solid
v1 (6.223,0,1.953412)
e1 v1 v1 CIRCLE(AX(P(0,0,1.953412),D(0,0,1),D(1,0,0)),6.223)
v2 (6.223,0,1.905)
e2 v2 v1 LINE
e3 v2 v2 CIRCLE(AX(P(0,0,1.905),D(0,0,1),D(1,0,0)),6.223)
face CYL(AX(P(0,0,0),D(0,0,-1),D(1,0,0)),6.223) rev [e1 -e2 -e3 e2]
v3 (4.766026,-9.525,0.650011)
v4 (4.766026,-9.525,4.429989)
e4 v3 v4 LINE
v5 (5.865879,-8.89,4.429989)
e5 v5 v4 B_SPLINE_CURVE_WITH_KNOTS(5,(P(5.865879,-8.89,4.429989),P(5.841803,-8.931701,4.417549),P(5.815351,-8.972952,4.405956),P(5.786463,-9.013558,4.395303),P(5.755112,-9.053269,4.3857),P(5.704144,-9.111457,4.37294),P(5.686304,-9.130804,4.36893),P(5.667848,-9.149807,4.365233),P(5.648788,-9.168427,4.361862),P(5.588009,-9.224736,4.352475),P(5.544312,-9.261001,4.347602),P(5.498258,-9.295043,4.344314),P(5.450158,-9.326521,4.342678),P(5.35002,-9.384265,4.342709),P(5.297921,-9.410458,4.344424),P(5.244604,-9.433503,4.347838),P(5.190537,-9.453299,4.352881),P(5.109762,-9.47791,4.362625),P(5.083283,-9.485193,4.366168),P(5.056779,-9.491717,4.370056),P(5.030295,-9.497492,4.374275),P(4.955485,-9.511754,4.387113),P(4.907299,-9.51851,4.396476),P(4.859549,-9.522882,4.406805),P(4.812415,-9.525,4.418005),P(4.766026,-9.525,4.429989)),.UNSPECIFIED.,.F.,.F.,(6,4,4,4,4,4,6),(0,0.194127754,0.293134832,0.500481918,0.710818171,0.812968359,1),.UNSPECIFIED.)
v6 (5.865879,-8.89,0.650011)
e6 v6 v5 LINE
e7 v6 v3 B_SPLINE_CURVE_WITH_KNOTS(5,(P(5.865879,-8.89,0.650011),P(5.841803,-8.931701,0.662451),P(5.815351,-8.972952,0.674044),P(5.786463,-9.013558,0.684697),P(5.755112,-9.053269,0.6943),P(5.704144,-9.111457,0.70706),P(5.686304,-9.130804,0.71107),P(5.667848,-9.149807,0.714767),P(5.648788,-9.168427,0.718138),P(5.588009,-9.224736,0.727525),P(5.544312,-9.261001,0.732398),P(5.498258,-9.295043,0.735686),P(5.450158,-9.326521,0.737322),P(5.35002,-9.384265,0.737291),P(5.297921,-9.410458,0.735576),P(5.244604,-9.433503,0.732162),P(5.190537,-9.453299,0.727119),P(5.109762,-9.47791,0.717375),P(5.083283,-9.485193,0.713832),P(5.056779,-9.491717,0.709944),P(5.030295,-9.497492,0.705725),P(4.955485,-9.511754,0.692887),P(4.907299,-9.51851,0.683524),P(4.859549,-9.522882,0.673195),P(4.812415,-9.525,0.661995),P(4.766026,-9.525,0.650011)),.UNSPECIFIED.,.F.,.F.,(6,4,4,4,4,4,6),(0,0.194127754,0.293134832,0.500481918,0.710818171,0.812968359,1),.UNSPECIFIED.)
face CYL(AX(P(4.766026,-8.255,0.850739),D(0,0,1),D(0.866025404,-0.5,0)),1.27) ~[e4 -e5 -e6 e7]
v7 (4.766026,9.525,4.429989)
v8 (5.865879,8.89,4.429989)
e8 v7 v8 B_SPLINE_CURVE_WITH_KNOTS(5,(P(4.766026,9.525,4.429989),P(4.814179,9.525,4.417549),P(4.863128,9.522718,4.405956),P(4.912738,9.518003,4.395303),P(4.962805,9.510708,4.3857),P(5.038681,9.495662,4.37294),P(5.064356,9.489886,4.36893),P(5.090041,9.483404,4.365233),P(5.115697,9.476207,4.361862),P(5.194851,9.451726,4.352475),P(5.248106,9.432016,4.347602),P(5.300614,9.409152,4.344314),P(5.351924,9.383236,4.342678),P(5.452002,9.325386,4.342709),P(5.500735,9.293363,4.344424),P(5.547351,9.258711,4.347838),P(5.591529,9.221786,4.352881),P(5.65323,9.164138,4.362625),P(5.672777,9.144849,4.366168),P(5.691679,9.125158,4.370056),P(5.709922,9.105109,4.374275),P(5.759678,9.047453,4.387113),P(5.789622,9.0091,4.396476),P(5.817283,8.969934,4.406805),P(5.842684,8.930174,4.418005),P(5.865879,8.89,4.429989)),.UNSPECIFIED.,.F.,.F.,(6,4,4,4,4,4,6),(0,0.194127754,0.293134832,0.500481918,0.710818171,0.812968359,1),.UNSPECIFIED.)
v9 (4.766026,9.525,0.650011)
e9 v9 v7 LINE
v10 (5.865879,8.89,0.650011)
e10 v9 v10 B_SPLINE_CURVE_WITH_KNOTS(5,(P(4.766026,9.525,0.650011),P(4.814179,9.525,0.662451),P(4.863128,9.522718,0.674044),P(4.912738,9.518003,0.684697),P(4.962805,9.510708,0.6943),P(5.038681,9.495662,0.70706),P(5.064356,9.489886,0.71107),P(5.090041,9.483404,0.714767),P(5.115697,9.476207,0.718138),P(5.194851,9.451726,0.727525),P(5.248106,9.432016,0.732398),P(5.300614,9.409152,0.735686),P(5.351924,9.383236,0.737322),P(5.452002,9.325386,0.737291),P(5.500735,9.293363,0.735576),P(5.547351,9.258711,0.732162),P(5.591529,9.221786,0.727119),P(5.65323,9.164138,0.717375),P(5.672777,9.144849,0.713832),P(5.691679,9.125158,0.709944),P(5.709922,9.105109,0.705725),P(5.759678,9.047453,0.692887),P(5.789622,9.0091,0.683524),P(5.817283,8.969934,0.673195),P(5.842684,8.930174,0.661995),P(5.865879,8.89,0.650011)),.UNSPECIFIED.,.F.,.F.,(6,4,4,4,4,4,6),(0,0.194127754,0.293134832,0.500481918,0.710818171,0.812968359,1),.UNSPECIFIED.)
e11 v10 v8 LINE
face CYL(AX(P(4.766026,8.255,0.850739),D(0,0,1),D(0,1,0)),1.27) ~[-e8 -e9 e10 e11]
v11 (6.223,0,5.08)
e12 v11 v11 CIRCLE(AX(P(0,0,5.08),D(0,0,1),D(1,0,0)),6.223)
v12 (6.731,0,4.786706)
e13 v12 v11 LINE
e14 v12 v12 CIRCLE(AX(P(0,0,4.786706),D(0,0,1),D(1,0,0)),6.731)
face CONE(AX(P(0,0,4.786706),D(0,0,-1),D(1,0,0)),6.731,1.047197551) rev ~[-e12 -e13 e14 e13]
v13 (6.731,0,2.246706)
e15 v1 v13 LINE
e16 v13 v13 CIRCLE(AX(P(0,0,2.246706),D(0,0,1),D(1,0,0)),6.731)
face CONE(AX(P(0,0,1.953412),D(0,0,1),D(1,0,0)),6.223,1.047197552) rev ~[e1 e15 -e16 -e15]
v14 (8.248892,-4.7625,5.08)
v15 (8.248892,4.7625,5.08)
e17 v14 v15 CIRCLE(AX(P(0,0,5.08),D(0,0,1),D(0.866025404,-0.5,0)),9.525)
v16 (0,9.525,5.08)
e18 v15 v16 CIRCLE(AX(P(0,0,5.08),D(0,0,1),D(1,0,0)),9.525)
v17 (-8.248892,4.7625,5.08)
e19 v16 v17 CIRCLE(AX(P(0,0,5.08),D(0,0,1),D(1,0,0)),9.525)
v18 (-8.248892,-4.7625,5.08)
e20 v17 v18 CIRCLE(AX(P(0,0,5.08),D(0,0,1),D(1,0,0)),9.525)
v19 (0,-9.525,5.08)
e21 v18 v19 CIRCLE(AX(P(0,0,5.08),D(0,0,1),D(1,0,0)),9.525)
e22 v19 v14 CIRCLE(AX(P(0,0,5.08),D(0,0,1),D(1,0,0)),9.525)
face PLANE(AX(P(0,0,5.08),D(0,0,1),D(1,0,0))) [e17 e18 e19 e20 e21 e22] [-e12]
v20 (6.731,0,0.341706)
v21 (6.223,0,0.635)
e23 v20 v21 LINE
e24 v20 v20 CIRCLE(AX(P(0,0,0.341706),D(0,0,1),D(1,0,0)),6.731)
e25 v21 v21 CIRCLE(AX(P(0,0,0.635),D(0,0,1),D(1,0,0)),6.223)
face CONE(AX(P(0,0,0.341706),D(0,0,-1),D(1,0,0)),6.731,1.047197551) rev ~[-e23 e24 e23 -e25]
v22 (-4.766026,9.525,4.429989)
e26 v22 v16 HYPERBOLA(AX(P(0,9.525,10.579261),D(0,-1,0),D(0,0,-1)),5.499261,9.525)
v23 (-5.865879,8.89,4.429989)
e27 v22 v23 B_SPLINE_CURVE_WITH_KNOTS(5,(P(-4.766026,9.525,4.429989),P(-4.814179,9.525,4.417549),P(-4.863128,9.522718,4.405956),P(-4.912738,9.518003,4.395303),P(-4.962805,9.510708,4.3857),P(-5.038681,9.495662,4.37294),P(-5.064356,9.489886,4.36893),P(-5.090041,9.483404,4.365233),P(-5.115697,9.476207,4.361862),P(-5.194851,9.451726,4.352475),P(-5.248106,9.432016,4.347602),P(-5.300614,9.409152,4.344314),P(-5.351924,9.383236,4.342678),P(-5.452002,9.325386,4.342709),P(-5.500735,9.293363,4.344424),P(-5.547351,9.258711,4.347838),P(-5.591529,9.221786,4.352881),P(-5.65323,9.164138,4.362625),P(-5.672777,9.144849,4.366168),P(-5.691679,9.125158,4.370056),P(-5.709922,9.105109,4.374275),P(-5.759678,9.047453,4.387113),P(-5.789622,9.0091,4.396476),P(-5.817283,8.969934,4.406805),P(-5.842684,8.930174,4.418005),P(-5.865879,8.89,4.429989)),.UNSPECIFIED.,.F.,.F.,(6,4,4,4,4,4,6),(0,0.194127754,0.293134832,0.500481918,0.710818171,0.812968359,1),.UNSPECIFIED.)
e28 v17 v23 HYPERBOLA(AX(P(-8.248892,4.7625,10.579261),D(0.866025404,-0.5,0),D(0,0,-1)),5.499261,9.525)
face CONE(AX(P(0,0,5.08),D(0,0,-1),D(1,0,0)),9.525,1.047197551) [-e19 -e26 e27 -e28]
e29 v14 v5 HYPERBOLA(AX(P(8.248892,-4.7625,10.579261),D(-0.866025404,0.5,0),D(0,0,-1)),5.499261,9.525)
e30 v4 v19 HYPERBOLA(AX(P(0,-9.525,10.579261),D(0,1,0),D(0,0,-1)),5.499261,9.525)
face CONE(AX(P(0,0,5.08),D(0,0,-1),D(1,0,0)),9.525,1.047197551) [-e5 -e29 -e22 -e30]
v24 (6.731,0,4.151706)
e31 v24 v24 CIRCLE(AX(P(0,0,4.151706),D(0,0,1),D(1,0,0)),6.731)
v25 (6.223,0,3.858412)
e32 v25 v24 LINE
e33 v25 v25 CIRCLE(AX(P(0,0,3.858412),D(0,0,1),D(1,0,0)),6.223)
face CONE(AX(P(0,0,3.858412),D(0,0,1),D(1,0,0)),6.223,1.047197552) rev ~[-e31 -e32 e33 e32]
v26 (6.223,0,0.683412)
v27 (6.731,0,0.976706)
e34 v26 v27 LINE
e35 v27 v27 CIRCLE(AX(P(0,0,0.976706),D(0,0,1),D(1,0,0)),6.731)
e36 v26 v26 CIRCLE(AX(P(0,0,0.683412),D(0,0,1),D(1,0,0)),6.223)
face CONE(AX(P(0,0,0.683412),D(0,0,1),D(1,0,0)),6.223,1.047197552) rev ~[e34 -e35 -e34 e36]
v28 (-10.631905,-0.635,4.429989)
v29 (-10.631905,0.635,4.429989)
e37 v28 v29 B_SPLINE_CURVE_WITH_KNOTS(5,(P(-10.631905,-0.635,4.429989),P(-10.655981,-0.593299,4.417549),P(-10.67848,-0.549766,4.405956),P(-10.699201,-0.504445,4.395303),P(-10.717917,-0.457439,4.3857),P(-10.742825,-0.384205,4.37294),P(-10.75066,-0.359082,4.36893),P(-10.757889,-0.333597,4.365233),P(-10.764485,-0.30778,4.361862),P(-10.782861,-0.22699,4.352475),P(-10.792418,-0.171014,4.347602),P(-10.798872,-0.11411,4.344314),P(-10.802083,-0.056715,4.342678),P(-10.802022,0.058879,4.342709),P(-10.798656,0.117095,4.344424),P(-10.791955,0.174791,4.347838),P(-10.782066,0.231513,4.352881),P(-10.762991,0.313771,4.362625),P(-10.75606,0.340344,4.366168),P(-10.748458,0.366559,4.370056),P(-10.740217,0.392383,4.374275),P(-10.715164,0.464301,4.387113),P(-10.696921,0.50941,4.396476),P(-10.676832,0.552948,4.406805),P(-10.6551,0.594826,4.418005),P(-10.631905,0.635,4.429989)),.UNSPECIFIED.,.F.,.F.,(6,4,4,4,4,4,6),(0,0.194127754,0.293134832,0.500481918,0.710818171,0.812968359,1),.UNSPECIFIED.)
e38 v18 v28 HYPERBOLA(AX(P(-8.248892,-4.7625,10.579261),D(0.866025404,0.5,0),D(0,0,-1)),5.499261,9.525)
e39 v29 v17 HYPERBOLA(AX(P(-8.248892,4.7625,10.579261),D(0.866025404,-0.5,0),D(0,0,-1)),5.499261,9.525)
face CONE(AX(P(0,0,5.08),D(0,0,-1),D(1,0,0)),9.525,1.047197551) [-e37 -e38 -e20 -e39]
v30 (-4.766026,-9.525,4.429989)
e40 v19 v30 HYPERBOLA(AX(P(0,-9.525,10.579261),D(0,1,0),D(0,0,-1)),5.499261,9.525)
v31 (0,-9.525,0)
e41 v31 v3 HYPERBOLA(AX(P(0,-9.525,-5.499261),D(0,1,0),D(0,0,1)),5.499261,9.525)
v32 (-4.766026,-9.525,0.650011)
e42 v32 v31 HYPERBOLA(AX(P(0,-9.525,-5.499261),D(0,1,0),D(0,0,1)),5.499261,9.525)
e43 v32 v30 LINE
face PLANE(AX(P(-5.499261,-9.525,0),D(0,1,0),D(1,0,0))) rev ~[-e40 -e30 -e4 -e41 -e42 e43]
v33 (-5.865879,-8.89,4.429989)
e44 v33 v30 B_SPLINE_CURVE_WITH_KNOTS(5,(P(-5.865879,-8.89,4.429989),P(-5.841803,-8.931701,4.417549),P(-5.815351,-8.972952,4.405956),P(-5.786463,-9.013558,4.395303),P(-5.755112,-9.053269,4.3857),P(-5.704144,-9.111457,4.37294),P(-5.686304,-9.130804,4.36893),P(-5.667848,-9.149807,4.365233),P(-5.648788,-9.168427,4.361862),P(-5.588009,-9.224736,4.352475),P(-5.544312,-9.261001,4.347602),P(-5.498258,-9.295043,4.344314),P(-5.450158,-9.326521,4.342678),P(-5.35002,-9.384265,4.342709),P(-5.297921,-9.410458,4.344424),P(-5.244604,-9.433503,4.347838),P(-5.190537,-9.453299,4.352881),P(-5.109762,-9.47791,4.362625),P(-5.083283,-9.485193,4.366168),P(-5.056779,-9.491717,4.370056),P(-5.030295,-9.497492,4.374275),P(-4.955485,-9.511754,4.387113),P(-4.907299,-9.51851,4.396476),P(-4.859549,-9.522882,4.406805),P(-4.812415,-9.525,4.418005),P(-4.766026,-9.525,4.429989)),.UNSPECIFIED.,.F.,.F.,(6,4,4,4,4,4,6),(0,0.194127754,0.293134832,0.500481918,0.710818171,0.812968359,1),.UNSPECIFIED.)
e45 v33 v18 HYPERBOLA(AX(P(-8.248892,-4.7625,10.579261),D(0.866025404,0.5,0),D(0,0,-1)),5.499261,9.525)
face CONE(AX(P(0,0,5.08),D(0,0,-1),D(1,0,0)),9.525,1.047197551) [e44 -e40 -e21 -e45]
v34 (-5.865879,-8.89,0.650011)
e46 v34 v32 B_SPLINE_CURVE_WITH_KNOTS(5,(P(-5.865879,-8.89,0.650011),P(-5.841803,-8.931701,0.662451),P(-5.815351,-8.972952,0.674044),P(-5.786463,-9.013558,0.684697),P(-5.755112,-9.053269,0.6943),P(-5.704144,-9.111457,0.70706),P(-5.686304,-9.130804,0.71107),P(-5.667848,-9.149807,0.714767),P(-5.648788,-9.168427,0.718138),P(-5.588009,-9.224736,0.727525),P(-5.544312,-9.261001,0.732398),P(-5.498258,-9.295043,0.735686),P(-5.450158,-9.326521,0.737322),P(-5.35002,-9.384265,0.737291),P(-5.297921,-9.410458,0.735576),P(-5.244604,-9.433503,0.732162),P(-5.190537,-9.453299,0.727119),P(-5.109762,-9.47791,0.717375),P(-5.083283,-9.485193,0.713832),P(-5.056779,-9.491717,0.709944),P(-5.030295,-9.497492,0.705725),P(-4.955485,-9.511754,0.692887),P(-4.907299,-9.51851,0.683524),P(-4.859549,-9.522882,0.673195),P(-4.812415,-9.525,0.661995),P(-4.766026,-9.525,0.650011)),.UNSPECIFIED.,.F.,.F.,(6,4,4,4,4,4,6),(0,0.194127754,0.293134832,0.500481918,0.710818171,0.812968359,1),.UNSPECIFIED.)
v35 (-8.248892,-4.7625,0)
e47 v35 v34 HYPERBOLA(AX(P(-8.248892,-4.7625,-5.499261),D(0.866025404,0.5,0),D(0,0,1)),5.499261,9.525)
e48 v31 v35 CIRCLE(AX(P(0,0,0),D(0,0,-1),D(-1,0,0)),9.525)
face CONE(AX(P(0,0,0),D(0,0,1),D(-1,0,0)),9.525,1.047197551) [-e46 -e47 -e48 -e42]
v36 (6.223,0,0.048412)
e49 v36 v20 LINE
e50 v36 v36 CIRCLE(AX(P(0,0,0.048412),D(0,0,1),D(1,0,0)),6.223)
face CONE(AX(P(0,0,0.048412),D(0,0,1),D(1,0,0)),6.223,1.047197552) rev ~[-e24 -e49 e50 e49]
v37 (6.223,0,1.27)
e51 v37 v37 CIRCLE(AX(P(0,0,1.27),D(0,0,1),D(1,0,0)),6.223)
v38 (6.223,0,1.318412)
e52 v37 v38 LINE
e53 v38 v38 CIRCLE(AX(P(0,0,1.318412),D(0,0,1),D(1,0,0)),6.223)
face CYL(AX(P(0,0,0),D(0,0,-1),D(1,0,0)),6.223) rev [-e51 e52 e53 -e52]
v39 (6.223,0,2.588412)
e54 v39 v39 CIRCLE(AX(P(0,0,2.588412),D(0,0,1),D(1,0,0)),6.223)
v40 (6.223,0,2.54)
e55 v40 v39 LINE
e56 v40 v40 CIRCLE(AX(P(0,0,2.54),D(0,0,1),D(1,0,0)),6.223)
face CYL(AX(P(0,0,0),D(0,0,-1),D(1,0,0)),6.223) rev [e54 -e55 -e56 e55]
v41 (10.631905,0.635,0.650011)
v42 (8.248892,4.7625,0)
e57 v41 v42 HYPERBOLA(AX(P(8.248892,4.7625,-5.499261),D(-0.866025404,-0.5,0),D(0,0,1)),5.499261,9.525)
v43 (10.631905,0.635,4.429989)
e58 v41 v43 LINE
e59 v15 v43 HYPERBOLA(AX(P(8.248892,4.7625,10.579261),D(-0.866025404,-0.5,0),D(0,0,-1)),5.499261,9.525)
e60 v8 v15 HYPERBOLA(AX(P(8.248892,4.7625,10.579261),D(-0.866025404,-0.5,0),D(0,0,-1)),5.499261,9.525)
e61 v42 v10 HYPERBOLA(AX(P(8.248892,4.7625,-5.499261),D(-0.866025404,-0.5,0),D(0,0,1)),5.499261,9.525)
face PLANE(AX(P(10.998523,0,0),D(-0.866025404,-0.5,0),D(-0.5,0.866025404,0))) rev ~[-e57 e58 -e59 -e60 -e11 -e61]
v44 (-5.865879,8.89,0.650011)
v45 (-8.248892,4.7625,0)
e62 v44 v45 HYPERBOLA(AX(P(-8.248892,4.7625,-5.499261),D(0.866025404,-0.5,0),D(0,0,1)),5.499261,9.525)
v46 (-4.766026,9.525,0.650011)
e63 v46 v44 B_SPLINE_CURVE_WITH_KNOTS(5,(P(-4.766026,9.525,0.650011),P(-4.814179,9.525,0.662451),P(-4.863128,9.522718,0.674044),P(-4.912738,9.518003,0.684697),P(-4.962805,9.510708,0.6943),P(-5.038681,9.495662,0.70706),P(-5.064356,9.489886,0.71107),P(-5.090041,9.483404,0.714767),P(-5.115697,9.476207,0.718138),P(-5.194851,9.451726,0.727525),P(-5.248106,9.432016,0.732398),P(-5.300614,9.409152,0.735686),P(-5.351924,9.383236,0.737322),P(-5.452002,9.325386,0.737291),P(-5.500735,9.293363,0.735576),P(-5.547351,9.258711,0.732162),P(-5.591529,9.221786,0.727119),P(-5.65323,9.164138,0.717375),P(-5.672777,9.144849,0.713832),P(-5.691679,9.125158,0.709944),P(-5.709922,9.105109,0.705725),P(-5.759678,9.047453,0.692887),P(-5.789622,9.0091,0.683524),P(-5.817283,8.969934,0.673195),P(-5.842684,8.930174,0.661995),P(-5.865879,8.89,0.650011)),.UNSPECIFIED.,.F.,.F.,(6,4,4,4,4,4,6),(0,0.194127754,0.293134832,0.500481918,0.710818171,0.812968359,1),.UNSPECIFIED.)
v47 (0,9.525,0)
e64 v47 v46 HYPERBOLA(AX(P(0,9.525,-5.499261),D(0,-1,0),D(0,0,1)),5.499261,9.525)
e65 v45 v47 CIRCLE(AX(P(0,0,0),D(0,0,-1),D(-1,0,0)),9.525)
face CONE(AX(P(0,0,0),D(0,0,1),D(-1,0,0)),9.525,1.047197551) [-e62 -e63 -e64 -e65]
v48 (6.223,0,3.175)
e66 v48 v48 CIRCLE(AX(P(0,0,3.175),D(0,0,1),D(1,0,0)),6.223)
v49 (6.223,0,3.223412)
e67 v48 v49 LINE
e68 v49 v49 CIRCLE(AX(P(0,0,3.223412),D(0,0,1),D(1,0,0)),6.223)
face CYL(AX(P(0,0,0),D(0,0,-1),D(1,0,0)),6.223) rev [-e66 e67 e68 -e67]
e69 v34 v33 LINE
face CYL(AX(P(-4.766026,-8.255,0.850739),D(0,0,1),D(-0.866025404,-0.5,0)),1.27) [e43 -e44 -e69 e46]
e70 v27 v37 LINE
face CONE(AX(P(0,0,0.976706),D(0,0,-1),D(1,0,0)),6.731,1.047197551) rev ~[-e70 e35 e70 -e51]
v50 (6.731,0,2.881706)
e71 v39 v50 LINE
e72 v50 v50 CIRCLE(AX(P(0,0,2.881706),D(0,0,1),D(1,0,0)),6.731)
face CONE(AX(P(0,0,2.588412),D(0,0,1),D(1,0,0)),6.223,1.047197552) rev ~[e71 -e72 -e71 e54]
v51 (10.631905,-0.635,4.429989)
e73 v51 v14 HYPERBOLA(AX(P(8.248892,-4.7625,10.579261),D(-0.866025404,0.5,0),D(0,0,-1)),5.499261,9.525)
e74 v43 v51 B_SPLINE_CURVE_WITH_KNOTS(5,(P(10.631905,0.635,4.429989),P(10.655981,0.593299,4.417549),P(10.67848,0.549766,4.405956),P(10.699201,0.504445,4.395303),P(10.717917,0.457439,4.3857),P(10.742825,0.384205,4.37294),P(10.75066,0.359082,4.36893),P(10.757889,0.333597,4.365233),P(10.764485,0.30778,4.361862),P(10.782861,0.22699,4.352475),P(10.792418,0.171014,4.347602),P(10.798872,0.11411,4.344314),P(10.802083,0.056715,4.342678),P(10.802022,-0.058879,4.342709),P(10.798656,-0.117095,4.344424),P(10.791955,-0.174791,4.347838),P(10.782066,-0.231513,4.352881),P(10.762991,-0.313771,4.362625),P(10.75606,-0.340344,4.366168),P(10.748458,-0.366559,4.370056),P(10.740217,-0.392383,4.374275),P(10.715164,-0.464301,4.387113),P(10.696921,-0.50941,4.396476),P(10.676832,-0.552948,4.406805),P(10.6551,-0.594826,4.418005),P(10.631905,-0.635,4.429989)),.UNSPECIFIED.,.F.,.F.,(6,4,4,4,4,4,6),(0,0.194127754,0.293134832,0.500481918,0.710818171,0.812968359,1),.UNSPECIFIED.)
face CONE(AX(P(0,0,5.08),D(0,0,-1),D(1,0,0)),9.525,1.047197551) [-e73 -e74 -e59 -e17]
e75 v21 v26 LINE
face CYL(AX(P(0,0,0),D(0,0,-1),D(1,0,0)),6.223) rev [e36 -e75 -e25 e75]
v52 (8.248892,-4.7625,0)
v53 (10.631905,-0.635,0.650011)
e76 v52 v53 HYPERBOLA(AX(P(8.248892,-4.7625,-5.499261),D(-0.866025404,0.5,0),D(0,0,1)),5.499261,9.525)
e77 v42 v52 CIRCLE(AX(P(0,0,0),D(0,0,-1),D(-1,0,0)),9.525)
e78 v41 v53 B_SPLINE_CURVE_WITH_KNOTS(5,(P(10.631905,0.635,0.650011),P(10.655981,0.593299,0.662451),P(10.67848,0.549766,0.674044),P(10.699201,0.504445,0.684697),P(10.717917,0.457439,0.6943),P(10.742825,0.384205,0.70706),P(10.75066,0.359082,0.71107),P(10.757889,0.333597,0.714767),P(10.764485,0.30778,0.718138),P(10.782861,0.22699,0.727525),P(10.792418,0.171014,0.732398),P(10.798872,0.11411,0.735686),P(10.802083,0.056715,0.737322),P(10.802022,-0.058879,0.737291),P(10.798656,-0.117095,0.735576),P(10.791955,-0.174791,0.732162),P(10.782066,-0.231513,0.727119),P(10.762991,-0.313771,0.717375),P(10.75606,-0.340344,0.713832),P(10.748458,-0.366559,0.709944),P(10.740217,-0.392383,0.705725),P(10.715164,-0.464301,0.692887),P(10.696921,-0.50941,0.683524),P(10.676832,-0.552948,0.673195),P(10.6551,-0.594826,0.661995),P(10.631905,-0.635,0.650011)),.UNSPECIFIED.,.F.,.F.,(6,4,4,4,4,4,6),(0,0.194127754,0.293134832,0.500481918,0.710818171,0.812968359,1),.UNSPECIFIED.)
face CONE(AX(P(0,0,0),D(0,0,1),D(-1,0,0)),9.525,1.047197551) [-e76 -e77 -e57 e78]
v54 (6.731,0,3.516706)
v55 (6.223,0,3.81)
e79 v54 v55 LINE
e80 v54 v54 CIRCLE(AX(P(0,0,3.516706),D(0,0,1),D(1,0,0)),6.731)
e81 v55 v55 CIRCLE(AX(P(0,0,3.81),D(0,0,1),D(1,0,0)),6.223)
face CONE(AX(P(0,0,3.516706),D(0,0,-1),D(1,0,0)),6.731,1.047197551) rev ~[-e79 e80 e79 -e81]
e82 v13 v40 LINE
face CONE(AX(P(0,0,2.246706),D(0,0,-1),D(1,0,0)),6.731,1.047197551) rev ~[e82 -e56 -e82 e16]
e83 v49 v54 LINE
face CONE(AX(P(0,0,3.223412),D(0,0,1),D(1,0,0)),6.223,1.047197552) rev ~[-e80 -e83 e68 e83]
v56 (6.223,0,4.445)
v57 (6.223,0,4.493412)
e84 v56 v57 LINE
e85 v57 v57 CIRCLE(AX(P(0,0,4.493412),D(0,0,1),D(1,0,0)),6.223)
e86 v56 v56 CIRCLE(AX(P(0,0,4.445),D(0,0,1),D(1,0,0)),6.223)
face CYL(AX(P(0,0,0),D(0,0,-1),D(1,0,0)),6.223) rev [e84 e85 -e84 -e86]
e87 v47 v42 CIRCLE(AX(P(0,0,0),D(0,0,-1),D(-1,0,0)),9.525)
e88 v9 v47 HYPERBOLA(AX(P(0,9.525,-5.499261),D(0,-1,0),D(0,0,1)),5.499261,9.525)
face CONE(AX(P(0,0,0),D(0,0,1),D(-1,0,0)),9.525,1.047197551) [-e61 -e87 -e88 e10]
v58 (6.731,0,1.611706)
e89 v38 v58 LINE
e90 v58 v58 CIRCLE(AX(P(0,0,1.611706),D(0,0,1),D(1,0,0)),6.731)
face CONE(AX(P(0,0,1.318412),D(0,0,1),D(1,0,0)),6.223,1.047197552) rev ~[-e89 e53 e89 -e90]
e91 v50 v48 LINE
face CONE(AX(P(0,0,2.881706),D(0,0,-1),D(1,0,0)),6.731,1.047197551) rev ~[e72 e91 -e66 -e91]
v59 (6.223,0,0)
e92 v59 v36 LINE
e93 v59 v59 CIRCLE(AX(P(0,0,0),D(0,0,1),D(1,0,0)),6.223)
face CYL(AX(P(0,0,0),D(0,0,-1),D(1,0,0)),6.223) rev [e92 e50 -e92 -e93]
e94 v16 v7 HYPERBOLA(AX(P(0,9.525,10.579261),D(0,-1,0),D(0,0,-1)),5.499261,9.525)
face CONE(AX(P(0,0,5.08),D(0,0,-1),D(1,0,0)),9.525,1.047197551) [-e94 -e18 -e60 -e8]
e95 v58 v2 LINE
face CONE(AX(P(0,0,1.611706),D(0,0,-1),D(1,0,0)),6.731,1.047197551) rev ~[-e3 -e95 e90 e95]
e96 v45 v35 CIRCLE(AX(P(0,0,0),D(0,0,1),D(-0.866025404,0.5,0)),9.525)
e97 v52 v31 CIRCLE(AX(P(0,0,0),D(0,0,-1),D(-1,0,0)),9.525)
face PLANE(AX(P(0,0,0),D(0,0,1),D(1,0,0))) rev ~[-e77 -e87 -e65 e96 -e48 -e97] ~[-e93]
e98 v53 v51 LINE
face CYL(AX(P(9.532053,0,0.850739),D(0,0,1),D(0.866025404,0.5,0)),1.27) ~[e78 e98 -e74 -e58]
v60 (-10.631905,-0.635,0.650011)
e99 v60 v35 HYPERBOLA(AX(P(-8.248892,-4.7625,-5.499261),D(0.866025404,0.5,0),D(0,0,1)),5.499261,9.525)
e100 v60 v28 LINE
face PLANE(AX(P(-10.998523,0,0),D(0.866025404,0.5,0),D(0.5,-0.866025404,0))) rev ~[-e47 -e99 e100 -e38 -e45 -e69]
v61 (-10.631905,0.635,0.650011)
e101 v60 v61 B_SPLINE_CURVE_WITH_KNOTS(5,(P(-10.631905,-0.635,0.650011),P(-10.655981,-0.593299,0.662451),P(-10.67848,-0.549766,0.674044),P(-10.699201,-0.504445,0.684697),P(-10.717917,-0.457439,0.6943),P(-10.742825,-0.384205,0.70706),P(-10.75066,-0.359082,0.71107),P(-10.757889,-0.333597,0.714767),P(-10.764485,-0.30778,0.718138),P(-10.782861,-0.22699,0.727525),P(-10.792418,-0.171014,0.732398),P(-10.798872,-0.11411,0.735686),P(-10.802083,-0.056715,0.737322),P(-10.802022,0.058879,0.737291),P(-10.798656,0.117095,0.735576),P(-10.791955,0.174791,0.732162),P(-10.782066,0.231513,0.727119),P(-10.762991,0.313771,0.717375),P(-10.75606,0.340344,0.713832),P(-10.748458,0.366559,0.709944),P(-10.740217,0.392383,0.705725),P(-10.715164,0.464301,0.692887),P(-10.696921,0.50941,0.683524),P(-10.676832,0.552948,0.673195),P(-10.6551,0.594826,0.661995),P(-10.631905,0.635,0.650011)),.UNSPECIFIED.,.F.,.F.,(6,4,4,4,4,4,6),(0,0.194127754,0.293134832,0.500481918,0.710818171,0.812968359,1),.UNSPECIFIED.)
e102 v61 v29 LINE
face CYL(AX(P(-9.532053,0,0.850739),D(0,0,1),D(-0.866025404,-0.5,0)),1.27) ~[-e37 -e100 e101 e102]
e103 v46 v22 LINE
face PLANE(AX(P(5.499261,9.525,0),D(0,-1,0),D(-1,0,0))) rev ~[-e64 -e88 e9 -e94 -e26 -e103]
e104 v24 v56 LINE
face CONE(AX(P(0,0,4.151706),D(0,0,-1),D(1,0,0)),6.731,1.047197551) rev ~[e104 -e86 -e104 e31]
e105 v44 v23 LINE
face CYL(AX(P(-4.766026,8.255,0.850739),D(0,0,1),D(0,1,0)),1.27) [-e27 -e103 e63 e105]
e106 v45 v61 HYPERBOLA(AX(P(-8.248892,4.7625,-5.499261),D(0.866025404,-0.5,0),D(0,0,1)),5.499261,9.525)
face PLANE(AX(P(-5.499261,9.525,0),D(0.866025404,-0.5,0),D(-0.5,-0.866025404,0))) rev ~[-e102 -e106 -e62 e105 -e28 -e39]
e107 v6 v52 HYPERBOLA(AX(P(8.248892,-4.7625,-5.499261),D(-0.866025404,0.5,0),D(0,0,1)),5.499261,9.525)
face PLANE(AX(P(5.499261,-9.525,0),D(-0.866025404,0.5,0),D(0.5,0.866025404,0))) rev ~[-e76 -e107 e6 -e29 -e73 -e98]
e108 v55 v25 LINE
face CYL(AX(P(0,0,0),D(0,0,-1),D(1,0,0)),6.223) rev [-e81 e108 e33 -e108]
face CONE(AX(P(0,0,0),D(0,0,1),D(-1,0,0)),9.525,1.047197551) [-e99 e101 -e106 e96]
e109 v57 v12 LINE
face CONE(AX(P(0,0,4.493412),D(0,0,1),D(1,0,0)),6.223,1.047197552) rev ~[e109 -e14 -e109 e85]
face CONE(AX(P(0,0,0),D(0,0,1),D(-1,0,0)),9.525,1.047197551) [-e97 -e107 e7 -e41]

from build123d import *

# Parameters (mm, degrees)
SKETCH1_R          = 6.223
EXTRUDE1_DEPTH     = 5.08
SKETCH2_OUTSIDE_W  = 50.968
SKETCH2_OUTSIDE_H  = 48.02
SKETCH2_OUTSIDE_R  = 9.525
CUT_EXTRUDE1_DEPTH = 6.08
CUT_EXTRUDE1_DRAFT = -60
SKETCH3_OUTSIDE_W  = 50.968
SKETCH3_OUTSIDE_H  = 48.02
SKETCH3_OUTSIDE_R  = 9.525
CUT_EXTRUDE2_DEPTH = 6.08
CUT_EXTRUDE2_DRAFT = -60
FILLET1_R          = 1.27
LPATTERN1_COUNT    = 8
LPATTERN1_PITCH    = 0.635


with BuildPart() as part:
    # Sketch1 → Extrude1 (new body)
    with BuildSketch(Plane.XY):
        Polygon((-10.998522628, 0), (-5.499261314, -9.525), (5.499261314, -9.525), (10.998522628, 0), (5.499261314, 9.525), (-5.499261314, 9.525), align=None)
        Circle(SKETCH1_R, mode=Mode.SUBTRACT)
    extrude(amount=EXTRUDE1_DEPTH)


with BuildPart() as cut_extrude1_tool:
    # Sketch2 outside → Cut-Extrude1 (with draft: the straight prism first)
    with BuildSketch(Plane.XY.offset(5.08)):
        Rectangle(SKETCH2_OUTSIDE_W, SKETCH2_OUTSIDE_H)
        Circle(SKETCH2_OUTSIDE_R, mode=Mode.SUBTRACT)
    extrude(amount=-CUT_EXTRUDE1_DEPTH)
    # Cut-Extrude1: the draft: its side faces are tilted about the plane it starts from
    cut_extrude1_sides = [cut_extrude1_tool.faces().sort_by_distance(p)[0] for p in [
        (0, -24.01, 2.04),
        (25.484, 0, 2.04),
        (0, 24.01, 2.04),
        (-25.484, 0, 2.04),
        (-9.525, 0, 2.04),
    ]]
    draft(cut_extrude1_sides, Plane.XY.offset(5.08), CUT_EXTRUDE1_DRAFT)


with BuildPart() as part_1:
    add(part.part)

    # Cut-Extrude1: cut by cut_extrude1_tool
    add(cut_extrude1_tool.part, mode=Mode.SUBTRACT)


with BuildPart() as cut_extrude2_tool:
    # Sketch3 outside → Cut-Extrude2 (with draft: the straight prism first)
    with BuildSketch(Plane(origin=(0, 0, 0), x_dir=(-1, 0, 0), z_dir=(0, 0, -1))):
        Rectangle(SKETCH3_OUTSIDE_W, SKETCH3_OUTSIDE_H)
        Circle(SKETCH3_OUTSIDE_R, mode=Mode.SUBTRACT)
    extrude(amount=-CUT_EXTRUDE2_DEPTH)
    # Cut-Extrude2: the draft: its side faces are tilted about the plane it starts from
    cut_extrude2_sides = [cut_extrude2_tool.faces().sort_by_distance(p)[0] for p in [
        (0, -24.01, 3.04),
        (-25.484, 0, 3.04),
        (0, 24.01, 3.04),
        (25.484, 0, 3.04),
        (9.525, 0, 3.04),
    ]]
    draft(cut_extrude2_sides, Plane(origin=(0, 0, 0), x_dir=(-1, 0, 0), z_dir=(0, 0, -1)), CUT_EXTRUDE2_DRAFT)


with BuildPart() as part_2:
    add(part_1.part)

    # Cut-Extrude2: cut by cut_extrude2_tool
    add(cut_extrude2_tool.part, mode=Mode.SUBTRACT)

    # Fillet1
    fillet1_edges = [part_2.edges().sort_by_distance(p)[0] for p in [
        (10.998522628, 0, 2.54),
        (5.499261314, -9.525, 2.54),
        (-5.499261314, -9.525, 2.54),
        (-10.998522628, 0, 2.54),
        (-5.499261314, 9.525, 2.54),
        (5.499261314, 9.525, 2.54),
    ]]
    fillet(fillet1_edges, radius=FILLET1_R)

    # Sketch4 → Cut-Revolve1 (revolve, cut)
    with BuildSketch(Plane(origin=(0, 0, 0), x_dir=(1, 0, 0), z_dir=(0, 1, 0)), mode=Mode.PRIVATE) as cut_revolve1_sk:
        Polygon((-6.223, -5.08), (-6.223, -4.493412127), (-6.731, -4.786706063), align=None)
    cut_revolve1 = revolve(cut_revolve1_sk.sketch.rotate(Axis((0, 0, 0), (0, 0, 1)), 180), axis=Axis((0, 0, 0), (0, 0, 1)), mode=Mode.SUBTRACT)  # turned: the seam where the file's is

    # LPattern1: Cut-Revolve1 ×8
    with Locations(*[(0, 0, -i * LPATTERN1_PITCH) for i in range(1, LPATTERN1_COUNT)]):
        add(cut_revolve1, mode=Mode.SUBTRACT)


solid = part_2.part
